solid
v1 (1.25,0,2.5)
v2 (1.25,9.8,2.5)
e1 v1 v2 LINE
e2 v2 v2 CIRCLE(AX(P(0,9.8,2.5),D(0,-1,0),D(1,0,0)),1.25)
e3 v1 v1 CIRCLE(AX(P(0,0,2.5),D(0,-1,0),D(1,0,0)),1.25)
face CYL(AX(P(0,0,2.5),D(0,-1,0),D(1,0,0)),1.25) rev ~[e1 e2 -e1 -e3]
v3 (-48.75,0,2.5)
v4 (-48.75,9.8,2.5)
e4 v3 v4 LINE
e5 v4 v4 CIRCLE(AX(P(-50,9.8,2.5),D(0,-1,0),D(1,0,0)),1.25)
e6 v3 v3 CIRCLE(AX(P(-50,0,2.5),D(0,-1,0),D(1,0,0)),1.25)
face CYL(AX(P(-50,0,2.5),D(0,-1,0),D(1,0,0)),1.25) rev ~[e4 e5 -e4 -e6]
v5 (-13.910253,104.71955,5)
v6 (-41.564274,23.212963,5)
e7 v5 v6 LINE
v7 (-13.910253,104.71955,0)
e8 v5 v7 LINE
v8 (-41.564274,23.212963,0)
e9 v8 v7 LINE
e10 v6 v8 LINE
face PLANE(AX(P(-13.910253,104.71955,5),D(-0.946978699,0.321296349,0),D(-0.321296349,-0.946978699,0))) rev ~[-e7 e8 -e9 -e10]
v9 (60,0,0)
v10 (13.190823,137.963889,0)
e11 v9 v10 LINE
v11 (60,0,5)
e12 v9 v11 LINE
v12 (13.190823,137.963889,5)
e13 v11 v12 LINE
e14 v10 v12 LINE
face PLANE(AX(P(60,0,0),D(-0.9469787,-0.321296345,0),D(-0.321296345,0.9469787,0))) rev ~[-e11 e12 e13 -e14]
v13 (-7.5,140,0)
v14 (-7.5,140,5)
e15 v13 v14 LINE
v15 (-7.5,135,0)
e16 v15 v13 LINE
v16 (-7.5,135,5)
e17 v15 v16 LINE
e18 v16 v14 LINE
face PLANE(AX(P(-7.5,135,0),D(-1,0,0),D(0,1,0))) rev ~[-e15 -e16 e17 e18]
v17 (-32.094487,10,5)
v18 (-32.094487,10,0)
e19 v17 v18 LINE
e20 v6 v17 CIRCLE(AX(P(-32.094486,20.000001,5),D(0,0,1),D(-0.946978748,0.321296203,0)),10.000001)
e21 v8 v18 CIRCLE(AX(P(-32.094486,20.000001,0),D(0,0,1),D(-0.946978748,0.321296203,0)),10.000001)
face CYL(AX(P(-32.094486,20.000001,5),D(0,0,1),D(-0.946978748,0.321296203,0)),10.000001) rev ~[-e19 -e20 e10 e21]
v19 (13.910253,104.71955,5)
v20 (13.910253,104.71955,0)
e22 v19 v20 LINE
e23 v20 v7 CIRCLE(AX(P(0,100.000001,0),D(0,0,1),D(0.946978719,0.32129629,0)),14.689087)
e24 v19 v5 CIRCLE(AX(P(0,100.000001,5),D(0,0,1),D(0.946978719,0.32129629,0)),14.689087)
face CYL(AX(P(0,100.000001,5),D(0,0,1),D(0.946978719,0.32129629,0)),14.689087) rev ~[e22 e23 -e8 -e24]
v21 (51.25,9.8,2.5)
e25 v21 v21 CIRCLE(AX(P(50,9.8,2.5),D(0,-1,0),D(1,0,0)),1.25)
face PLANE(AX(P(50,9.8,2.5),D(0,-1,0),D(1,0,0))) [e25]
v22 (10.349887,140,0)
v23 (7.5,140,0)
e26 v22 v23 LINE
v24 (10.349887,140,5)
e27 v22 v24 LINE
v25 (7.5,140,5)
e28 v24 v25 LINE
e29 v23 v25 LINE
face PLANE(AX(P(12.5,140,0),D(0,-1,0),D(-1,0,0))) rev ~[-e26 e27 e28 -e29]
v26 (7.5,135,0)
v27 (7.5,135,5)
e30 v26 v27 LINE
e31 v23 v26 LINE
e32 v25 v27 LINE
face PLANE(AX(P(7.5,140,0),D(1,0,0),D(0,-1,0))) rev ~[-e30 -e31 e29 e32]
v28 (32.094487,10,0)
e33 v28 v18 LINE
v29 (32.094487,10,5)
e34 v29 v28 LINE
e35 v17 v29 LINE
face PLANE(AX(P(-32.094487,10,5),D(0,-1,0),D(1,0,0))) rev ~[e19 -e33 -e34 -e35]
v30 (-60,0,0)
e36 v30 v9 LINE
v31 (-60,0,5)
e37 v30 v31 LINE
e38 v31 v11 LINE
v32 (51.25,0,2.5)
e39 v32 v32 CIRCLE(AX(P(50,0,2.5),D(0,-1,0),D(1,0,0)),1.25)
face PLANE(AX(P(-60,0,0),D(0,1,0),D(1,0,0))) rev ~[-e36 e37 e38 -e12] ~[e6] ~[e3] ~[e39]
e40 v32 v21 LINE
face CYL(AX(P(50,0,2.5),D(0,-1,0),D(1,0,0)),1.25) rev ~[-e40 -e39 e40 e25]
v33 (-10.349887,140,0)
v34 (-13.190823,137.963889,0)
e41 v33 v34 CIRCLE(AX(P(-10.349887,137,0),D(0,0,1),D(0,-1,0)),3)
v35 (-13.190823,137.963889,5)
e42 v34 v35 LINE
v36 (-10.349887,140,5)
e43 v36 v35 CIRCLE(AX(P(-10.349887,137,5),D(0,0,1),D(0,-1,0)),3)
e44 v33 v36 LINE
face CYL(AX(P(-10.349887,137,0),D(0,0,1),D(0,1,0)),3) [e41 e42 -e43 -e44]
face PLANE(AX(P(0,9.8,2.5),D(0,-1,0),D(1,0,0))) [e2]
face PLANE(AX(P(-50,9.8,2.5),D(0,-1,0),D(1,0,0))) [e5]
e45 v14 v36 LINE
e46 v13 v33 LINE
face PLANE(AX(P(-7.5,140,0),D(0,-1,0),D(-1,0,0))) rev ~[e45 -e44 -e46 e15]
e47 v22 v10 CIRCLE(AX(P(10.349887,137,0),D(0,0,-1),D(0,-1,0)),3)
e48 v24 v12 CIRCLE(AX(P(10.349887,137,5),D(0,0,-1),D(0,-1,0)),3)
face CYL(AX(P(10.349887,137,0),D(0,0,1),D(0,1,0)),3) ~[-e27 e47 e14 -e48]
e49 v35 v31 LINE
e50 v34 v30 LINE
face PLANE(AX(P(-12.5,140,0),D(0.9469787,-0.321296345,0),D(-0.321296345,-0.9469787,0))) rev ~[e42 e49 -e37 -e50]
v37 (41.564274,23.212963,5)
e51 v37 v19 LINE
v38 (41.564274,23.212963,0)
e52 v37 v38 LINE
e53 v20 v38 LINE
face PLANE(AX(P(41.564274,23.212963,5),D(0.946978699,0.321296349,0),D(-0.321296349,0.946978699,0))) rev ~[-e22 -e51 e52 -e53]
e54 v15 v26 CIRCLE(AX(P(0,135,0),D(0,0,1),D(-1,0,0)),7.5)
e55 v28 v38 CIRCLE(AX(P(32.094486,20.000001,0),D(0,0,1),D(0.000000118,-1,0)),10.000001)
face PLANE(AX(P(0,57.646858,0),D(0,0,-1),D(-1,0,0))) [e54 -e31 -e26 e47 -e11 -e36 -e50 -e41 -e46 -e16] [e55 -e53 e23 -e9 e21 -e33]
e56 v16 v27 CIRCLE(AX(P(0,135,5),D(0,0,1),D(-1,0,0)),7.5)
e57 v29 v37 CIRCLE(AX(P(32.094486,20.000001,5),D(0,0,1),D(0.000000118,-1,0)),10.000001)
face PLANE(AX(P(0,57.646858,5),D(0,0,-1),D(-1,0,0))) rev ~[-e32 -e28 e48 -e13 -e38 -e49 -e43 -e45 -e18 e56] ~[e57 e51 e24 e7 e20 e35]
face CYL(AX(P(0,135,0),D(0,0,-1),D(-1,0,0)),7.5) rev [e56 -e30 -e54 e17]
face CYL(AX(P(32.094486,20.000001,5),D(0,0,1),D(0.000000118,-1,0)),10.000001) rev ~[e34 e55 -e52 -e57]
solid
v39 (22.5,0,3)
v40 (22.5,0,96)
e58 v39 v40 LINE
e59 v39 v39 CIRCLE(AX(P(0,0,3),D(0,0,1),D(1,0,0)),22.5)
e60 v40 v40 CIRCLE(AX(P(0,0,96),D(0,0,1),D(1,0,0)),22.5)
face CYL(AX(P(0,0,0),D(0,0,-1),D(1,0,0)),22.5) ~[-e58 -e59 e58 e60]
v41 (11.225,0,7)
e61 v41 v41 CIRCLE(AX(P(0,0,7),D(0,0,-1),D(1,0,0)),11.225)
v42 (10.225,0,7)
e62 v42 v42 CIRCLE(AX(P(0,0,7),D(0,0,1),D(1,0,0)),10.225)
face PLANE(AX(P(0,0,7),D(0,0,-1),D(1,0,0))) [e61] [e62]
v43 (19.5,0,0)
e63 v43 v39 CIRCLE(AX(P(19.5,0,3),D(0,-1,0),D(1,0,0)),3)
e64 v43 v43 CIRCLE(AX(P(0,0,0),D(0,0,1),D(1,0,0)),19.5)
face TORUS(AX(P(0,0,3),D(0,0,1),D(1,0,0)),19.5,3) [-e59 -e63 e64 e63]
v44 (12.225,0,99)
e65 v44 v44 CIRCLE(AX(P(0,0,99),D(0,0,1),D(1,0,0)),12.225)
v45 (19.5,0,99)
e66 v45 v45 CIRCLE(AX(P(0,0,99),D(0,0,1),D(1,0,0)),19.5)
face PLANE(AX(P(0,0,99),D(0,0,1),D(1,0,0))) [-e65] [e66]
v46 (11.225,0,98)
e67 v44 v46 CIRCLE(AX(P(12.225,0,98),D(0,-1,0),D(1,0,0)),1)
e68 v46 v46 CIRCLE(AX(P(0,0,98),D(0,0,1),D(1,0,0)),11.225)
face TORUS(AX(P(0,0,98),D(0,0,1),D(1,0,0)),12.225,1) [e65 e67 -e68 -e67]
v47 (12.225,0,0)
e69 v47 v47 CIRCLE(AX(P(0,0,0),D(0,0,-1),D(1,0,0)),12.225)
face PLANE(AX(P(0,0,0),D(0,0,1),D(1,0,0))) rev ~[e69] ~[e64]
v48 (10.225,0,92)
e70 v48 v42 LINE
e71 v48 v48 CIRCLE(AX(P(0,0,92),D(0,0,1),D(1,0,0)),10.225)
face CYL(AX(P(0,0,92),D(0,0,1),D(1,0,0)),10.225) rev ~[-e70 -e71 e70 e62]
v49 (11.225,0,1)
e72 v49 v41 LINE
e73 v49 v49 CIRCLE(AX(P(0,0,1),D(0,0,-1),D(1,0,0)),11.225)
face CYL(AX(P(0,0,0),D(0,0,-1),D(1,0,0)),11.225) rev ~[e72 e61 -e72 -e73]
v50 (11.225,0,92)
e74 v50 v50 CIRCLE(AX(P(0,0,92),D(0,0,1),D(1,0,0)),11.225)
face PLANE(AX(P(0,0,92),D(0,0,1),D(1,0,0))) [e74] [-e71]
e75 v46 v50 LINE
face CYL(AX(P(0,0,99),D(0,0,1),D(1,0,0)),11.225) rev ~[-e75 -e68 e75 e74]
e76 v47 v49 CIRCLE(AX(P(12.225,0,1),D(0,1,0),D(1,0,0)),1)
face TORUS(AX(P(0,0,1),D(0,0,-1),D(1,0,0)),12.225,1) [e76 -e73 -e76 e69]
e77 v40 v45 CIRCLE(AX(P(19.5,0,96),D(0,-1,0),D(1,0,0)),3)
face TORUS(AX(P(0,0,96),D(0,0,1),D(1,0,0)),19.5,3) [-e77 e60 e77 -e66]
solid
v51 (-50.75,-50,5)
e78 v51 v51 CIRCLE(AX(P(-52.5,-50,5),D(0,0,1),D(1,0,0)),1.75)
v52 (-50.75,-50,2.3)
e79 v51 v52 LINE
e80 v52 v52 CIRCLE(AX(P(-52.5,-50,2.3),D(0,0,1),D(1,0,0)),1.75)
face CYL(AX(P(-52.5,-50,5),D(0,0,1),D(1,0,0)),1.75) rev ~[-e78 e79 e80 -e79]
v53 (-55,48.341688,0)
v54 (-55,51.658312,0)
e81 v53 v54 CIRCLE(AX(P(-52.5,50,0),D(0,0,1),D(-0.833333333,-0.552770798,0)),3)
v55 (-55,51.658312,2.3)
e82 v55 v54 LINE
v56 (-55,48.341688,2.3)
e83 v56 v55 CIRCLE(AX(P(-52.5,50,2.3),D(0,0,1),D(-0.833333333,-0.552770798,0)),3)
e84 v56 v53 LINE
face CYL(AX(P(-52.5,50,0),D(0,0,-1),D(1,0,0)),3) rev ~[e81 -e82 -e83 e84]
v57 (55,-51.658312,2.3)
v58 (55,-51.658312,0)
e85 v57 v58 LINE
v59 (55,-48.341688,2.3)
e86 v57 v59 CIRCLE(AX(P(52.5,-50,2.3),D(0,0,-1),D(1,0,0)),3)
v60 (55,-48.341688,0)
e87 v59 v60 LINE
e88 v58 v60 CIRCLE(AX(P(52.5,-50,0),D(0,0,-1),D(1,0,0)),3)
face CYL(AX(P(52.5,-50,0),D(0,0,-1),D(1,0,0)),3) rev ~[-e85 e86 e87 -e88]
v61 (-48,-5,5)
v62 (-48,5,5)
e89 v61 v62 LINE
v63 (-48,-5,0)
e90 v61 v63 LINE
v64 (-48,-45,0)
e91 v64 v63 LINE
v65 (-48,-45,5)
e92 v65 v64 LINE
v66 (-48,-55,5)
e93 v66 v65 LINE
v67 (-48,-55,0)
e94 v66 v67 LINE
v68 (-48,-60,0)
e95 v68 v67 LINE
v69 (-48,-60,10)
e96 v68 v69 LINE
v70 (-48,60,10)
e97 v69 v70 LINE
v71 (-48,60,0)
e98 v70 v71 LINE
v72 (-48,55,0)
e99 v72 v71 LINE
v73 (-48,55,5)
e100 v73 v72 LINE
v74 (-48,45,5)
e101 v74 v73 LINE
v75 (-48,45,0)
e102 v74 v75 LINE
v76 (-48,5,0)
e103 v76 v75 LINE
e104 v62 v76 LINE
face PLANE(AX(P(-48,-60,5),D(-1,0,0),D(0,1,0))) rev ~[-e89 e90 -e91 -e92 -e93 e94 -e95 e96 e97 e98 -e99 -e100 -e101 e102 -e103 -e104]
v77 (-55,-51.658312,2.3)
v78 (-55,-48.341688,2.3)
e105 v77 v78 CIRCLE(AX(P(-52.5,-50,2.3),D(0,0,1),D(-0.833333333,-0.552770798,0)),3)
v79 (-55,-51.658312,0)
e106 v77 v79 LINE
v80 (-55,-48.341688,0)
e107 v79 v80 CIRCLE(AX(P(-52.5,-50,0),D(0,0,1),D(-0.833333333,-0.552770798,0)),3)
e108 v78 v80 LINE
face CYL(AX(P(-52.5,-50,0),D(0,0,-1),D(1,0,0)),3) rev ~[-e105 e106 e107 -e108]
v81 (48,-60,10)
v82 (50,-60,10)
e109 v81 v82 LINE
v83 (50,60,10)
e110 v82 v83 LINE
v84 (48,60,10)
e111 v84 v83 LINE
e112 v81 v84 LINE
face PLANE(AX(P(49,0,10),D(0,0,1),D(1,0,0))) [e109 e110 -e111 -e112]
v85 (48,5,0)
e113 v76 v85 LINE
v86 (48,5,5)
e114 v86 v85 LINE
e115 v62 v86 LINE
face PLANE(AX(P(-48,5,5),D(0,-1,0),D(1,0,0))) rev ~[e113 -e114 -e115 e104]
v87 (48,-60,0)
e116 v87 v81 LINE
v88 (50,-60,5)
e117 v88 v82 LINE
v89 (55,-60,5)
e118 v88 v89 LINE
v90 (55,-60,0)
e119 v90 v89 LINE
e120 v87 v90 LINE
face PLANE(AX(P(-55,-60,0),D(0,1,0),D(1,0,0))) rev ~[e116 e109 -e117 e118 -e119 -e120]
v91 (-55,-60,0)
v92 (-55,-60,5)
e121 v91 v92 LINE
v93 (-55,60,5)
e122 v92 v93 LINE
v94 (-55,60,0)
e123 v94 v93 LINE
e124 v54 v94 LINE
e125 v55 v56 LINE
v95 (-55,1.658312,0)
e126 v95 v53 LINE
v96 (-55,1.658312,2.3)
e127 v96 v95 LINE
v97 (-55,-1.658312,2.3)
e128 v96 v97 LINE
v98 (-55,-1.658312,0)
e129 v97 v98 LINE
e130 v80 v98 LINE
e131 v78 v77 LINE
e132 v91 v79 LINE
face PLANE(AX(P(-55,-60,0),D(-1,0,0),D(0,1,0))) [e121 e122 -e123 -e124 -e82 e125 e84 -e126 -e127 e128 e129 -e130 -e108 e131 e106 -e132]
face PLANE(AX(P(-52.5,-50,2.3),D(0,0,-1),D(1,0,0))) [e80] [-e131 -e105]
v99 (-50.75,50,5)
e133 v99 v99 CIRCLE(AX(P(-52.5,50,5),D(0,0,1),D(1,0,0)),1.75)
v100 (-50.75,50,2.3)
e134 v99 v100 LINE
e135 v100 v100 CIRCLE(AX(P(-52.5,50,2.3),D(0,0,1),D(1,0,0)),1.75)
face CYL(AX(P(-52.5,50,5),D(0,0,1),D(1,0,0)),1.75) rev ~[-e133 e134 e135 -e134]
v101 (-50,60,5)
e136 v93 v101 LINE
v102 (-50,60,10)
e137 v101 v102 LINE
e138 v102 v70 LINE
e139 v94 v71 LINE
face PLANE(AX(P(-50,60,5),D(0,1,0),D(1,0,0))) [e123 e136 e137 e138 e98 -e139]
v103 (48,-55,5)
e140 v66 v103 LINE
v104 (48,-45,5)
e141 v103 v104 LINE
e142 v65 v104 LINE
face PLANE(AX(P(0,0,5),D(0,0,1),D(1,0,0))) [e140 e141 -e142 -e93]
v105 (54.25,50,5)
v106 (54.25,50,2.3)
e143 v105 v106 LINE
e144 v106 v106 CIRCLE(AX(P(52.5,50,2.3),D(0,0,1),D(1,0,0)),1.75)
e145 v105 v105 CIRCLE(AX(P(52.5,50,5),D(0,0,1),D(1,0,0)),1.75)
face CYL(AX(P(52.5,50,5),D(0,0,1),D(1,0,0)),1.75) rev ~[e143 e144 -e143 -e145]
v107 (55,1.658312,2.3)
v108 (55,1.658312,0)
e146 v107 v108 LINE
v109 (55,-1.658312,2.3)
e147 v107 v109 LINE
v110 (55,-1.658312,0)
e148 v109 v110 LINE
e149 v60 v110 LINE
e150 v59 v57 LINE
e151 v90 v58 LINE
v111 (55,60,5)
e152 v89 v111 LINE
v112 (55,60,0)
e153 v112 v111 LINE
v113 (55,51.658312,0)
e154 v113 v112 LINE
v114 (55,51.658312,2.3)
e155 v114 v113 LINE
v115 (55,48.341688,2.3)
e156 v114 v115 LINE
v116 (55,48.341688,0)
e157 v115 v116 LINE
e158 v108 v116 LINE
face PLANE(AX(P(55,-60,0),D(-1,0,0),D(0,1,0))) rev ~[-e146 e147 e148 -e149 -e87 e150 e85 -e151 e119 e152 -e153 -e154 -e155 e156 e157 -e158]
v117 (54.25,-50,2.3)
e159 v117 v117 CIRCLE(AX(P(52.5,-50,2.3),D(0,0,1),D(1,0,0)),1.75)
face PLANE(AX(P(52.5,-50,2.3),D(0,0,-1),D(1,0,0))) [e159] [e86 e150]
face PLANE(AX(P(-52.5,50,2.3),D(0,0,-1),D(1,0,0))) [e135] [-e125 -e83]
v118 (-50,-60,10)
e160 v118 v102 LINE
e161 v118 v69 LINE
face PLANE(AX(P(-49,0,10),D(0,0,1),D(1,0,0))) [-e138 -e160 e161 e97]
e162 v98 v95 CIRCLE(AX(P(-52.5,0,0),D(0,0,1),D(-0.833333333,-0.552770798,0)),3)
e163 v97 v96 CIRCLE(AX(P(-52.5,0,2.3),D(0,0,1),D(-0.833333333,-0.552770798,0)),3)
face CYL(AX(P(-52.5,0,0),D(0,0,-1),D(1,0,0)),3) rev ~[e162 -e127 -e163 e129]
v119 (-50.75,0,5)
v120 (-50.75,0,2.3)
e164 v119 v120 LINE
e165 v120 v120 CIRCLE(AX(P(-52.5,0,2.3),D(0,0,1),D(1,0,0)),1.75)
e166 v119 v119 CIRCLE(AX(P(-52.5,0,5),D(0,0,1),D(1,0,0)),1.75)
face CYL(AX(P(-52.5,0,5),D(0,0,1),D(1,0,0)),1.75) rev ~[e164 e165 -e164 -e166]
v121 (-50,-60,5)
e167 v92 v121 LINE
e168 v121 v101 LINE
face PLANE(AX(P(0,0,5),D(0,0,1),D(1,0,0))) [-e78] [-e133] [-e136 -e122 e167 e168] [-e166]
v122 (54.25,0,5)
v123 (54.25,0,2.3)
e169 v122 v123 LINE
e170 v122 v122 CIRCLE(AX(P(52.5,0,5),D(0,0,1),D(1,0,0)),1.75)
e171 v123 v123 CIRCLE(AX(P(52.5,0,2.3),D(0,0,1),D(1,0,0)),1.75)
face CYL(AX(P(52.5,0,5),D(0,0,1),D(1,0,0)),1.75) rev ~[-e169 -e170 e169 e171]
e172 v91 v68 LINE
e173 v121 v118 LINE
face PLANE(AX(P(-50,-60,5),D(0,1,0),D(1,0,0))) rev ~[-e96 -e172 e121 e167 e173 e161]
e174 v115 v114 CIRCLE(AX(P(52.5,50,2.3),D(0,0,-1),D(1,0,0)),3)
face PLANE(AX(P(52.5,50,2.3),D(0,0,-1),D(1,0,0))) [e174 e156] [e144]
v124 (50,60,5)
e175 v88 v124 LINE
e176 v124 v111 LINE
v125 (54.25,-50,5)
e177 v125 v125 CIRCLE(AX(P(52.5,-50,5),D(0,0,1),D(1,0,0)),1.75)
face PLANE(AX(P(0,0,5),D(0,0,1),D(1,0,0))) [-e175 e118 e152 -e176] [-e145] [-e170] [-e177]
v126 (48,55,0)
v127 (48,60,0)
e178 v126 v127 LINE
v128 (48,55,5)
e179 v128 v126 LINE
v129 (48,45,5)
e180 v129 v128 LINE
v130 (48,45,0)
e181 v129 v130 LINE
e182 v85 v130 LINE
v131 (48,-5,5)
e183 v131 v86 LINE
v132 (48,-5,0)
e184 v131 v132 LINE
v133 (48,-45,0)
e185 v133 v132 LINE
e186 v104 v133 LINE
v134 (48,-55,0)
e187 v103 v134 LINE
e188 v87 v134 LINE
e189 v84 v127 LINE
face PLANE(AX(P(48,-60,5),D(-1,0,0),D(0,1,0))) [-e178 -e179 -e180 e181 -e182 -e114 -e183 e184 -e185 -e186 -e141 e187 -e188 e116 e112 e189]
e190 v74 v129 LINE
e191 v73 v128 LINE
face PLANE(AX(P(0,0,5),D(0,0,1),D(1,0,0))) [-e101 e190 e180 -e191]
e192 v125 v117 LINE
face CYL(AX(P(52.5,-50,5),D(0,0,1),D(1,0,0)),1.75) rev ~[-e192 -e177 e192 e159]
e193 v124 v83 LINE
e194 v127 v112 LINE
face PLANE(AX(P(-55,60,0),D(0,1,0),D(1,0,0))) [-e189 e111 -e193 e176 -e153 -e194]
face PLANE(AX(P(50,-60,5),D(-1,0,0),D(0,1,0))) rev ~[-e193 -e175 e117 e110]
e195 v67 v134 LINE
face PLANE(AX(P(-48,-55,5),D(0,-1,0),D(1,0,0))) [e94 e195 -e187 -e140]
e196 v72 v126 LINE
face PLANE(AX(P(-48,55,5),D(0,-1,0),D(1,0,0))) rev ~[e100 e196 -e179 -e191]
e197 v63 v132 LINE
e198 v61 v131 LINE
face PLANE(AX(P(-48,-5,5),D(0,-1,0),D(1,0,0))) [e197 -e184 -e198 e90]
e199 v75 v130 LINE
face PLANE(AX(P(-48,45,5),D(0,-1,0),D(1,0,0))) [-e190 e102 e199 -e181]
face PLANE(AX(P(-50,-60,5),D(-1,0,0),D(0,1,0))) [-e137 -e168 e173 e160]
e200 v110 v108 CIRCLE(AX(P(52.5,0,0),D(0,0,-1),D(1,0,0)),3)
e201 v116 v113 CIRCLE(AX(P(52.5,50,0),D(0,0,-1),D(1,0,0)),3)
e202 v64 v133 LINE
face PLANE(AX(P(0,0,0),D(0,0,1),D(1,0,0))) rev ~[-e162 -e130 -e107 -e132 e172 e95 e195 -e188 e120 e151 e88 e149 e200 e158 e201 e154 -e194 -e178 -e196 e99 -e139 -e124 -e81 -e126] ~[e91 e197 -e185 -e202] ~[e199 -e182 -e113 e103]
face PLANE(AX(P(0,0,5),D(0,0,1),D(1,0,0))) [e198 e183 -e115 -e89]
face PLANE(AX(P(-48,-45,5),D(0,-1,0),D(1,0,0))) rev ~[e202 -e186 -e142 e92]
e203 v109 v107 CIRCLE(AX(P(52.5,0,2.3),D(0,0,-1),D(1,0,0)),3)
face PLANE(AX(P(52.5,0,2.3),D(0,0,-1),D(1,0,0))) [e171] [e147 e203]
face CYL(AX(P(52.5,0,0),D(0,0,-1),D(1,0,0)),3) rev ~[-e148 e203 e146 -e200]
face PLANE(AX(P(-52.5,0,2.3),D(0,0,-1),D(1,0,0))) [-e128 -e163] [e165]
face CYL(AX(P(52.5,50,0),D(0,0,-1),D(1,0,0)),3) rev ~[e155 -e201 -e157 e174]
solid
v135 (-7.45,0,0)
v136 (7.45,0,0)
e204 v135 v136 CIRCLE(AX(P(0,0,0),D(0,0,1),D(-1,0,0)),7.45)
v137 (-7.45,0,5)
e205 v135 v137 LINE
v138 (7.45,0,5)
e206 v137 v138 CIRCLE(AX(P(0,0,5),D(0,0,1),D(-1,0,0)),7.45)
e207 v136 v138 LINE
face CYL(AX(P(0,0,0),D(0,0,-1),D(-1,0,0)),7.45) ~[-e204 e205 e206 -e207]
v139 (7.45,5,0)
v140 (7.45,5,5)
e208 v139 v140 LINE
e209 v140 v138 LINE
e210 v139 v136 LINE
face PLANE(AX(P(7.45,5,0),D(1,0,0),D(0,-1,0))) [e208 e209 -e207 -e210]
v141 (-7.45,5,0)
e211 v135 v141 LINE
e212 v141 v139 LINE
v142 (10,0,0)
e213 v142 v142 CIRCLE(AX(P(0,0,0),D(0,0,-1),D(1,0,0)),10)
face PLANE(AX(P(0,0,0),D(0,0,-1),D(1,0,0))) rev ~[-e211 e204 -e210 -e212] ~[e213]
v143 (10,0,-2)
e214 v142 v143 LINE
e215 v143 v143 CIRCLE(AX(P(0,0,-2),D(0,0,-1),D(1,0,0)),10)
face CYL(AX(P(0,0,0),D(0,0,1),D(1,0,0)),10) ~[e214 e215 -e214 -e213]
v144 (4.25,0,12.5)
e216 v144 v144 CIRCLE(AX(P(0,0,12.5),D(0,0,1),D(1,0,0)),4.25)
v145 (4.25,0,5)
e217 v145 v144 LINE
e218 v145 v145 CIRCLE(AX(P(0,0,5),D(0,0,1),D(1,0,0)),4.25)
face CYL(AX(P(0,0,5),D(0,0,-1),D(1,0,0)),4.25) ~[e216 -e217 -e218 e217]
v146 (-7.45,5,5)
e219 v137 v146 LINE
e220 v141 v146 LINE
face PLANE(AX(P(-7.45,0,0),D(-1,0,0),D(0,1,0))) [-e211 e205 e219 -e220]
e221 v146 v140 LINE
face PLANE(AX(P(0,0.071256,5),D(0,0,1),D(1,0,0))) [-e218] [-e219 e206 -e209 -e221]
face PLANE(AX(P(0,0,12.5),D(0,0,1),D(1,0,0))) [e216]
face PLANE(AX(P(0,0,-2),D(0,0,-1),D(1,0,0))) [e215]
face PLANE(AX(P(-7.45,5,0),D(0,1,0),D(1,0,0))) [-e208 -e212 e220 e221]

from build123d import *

# Parameters (mm, degrees)
PAD_DEPTH       = 5
POCKET_DEPTH    = 5.001
FILLET_R        = 3
SKETCH010_R     = 1.25
POCKET005_DEPTH = 9.8
PAD001_DEPTH    = 5
SKETCH003_R     = 4.25
PAD002_DEPTH    = 7.5
SKETCH011_R     = 10
PAD006_DEPTH    = 2
SKETCH004_R     = 22.5
PAD003_DEPTH    = 99
SKETCH005_R     = 11.225
POCKET001_DEPTH = 7
SKETCH006_R     = 11.225
POCKET002_DEPTH = 7
SKETCH007_R     = 10.225
POCKET003_DEPTH = 92.001
FILLET002_R     = 1
FILLET003_R     = 3
SKETCH008_W     = 110
SKETCH008_H     = 120
PAD004_DEPTH    = 5
SKETCH009_R     = 1.75
POCKET006_DEPTH = 5.001
SKETCH012_W     = 96
SKETCH012_H     = 5
SKETCH012_H_2   = 40
POCKET007_DEPTH = 5.001
SKETCH014_W     = 2
SKETCH014_H     = 120
PAD007_DEPTH    = 5
SKETCH015_R     = 3
POCKET008_DEPTH = 2.3


with BuildPart() as body:
    # Sketch → Pad (new body)
    with BuildSketch(Plane.XY):
        with BuildLine():
            ThreePointArc((-7.5, 135), (0, 127.5), (7.5, 135))
            Line((7.5, 140), (7.5, 135))
            Line((12.5, 140), (7.5, 140))
            Line((60, 0), (12.5, 140))
            Line((-60, 0), (60, 0))
            Line((-12.5, 140), (-60, 0))
            Line((-7.5, 140), (-12.5, 140))
            Line((-7.5, 135), (-7.5, 140))
        make_face()
    extrude(amount=PAD_DEPTH)

    # Sketch001 (on Face10 of Pad) → Pocket (cut, through all)
    with BuildSketch(Plane.XY.offset(5)):
        with BuildLine():
            ThreePointArc((-41.564274, 23.212963), (-40.222513, 14.174609), (-32.094487, 10))
            Line((-32.094487, 10), (32.094487, 10))
            ThreePointArc((32.094487, 10), (40.222513, 14.174609), (41.564274, 23.212963))
            Line((41.564274, 23.212963), (13.910253, 104.71955))
            ThreePointArc((13.910253, 104.71955), (0, 114.689088), (-13.910253, 104.71955))
            Line((-13.910253, 104.71955), (-41.564274, 23.212963))
        make_face()
    extrude(amount=-POCKET_DEPTH, mode=Mode.SUBTRACT)

    # Fillet
    fillet_edges = [body.edges().sort_by_distance(p)[0] for p in [
        (12.5, 140, 2.5),
        (-12.5, 140, 2.5),
    ]]
    fillet(fillet_edges, radius=FILLET_R)

    # Sketch010 (on Face7 of Fillet) → Pocket005 (cut)
    with BuildSketch(Plane.XZ):
        with Locations((-50, 2.5)):
            Circle(SKETCH010_R)
        with Locations((0, 2.5)):
            Circle(SKETCH010_R)
        with Locations((50, 2.5)):
            Circle(SKETCH010_R)
    extrude(amount=-POCKET005_DEPTH, mode=Mode.SUBTRACT)


with BuildPart() as body001:
    # Sketch002 → Pad001 (new body)
    with BuildSketch(Plane.XY):
        with BuildLine():
            ThreePointArc((-7.45, 0), (0, -7.45), (7.45, 0))
            Line((7.45, 5), (7.45, 0))
            Line((-7.45, 5), (7.45, 5))
            Line((-7.45, 0), (-7.45, 5))
        make_face()
    extrude(amount=PAD001_DEPTH)

    # Sketch003 (on Face6 of Pad001) → Pad002 (join)
    with BuildSketch(Plane.XY.offset(5)):
        Circle(SKETCH003_R)
    extrude(amount=PAD002_DEPTH)

    # Sketch011 (on Face4 of Pad002) → Pad006 (join)
    with BuildSketch(Plane(origin=(0, 0, 0), x_dir=(1, 0, 0), z_dir=(0, 0, -1))):
        Circle(SKETCH011_R)
    extrude(amount=PAD006_DEPTH)


with BuildPart() as body002:
    # Sketch004 → Pad003 (new body)
    with BuildSketch(Plane.XY):
        Circle(SKETCH004_R)
    extrude(amount=PAD003_DEPTH)

    # Sketch005 (on Face2 of Pad003) → Pocket001 (cut)
    with BuildSketch(Plane(origin=(0, 0, 0), x_dir=(1, 0, 0), z_dir=(0, 0, -1))):
        Circle(SKETCH005_R)
    extrude(amount=-POCKET001_DEPTH, mode=Mode.SUBTRACT)

    # Sketch006 (on Face3 of Pocket001) → Pocket002 (cut)
    with BuildSketch(Plane.XY.offset(99)):
        Circle(SKETCH006_R)
    extrude(amount=-POCKET002_DEPTH, mode=Mode.SUBTRACT)

    # Sketch007 (on Face7 of Pocket002) → Pocket003 (cut, through all)
    with BuildSketch(Plane.XY.offset(92)):
        Circle(SKETCH007_R)
    extrude(amount=-POCKET003_DEPTH, mode=Mode.SUBTRACT)

    # Fillet002
    fillet002_edges = [body002.edges().sort_by_distance(p)[0] for p in [
        (-11.225, 0, 0),
        (-11.225, 0, 99),
    ]]
    fillet(fillet002_edges, radius=FILLET002_R)

    # Fillet003
    fillet003_edges = [body002.edges().sort_by_distance(p)[0] for p in [
        (-22.5, 0, 99),
        (-22.5, 0, 0),
    ]]
    fillet(fillet003_edges, radius=FILLET003_R)


with BuildPart() as body003:
    # Sketch008 → Pad004 (new body)
    with BuildSketch(Plane.XY):
        Rectangle(SKETCH008_W, SKETCH008_H)
    extrude(amount=PAD004_DEPTH)

    # Sketch009 (on Face6 of Pad004) → Pocket006 (cut, through all)
    with BuildSketch(Plane.XY.offset(5)):
        with Locations((-52.5, 50)):
            Circle(SKETCH009_R)
        with Locations((-52.5, 0)):
            Circle(SKETCH009_R)
        with Locations((-52.5, -50)):
            Circle(SKETCH009_R)
        with Locations((52.5, -50)):
            Circle(SKETCH009_R)
        with Locations((52.5, 0)):
            Circle(SKETCH009_R)
        with Locations((52.5, 50)):
            Circle(SKETCH009_R)
    extrude(amount=-POCKET006_DEPTH, mode=Mode.SUBTRACT)

    # Sketch012 (on Face5 of Pocket006) → Pocket007 (cut, through all)
    with BuildSketch(Plane.XY.offset(5)):
        with Locations((0, 57.5)):
            Rectangle(SKETCH012_W, SKETCH012_H)
        with Locations((0, -57.5)):
            Rectangle(SKETCH012_W, SKETCH012_H)
        with Locations((0, 25)):
            Rectangle(SKETCH012_W, SKETCH012_H_2)
        with Locations((0, -25)):
            Rectangle(SKETCH012_W, SKETCH012_H_2)
    extrude(amount=-POCKET007_DEPTH, mode=Mode.SUBTRACT)

    # Sketch014 (on Face4 of Pocket007) → Pad007 (join)
    with BuildSketch(Plane.XY.offset(5)):
        with Locations((-49, 0)):
            Rectangle(SKETCH014_W, SKETCH014_H)
        with Locations((49, 0)):
            Rectangle(SKETCH014_W, SKETCH014_H)
    extrude(amount=PAD007_DEPTH)

    # Sketch015 (on Face2 of Pad007) → Pocket008 (cut)
    with BuildSketch(Plane(origin=(0, 0, 0), x_dir=(1, 0, 0), z_dir=(0, 0, -1))):
        with Locations((-52.5, 50)):
            Circle(SKETCH015_R)
        with Locations((-52.5, 0)):
            Circle(SKETCH015_R)
        with Locations((-52.5, -50)):
            Circle(SKETCH015_R)
        with Locations((52.5, -50)):
            Circle(SKETCH015_R)
        with Locations((52.5, 0)):
            Circle(SKETCH015_R)
        with Locations((52.5, 50)):
            Circle(SKETCH015_R)
    extrude(amount=-POCKET008_DEPTH, mode=Mode.SUBTRACT)


solid = Compound([body.part, body001.part, body002.part, body003.part])
